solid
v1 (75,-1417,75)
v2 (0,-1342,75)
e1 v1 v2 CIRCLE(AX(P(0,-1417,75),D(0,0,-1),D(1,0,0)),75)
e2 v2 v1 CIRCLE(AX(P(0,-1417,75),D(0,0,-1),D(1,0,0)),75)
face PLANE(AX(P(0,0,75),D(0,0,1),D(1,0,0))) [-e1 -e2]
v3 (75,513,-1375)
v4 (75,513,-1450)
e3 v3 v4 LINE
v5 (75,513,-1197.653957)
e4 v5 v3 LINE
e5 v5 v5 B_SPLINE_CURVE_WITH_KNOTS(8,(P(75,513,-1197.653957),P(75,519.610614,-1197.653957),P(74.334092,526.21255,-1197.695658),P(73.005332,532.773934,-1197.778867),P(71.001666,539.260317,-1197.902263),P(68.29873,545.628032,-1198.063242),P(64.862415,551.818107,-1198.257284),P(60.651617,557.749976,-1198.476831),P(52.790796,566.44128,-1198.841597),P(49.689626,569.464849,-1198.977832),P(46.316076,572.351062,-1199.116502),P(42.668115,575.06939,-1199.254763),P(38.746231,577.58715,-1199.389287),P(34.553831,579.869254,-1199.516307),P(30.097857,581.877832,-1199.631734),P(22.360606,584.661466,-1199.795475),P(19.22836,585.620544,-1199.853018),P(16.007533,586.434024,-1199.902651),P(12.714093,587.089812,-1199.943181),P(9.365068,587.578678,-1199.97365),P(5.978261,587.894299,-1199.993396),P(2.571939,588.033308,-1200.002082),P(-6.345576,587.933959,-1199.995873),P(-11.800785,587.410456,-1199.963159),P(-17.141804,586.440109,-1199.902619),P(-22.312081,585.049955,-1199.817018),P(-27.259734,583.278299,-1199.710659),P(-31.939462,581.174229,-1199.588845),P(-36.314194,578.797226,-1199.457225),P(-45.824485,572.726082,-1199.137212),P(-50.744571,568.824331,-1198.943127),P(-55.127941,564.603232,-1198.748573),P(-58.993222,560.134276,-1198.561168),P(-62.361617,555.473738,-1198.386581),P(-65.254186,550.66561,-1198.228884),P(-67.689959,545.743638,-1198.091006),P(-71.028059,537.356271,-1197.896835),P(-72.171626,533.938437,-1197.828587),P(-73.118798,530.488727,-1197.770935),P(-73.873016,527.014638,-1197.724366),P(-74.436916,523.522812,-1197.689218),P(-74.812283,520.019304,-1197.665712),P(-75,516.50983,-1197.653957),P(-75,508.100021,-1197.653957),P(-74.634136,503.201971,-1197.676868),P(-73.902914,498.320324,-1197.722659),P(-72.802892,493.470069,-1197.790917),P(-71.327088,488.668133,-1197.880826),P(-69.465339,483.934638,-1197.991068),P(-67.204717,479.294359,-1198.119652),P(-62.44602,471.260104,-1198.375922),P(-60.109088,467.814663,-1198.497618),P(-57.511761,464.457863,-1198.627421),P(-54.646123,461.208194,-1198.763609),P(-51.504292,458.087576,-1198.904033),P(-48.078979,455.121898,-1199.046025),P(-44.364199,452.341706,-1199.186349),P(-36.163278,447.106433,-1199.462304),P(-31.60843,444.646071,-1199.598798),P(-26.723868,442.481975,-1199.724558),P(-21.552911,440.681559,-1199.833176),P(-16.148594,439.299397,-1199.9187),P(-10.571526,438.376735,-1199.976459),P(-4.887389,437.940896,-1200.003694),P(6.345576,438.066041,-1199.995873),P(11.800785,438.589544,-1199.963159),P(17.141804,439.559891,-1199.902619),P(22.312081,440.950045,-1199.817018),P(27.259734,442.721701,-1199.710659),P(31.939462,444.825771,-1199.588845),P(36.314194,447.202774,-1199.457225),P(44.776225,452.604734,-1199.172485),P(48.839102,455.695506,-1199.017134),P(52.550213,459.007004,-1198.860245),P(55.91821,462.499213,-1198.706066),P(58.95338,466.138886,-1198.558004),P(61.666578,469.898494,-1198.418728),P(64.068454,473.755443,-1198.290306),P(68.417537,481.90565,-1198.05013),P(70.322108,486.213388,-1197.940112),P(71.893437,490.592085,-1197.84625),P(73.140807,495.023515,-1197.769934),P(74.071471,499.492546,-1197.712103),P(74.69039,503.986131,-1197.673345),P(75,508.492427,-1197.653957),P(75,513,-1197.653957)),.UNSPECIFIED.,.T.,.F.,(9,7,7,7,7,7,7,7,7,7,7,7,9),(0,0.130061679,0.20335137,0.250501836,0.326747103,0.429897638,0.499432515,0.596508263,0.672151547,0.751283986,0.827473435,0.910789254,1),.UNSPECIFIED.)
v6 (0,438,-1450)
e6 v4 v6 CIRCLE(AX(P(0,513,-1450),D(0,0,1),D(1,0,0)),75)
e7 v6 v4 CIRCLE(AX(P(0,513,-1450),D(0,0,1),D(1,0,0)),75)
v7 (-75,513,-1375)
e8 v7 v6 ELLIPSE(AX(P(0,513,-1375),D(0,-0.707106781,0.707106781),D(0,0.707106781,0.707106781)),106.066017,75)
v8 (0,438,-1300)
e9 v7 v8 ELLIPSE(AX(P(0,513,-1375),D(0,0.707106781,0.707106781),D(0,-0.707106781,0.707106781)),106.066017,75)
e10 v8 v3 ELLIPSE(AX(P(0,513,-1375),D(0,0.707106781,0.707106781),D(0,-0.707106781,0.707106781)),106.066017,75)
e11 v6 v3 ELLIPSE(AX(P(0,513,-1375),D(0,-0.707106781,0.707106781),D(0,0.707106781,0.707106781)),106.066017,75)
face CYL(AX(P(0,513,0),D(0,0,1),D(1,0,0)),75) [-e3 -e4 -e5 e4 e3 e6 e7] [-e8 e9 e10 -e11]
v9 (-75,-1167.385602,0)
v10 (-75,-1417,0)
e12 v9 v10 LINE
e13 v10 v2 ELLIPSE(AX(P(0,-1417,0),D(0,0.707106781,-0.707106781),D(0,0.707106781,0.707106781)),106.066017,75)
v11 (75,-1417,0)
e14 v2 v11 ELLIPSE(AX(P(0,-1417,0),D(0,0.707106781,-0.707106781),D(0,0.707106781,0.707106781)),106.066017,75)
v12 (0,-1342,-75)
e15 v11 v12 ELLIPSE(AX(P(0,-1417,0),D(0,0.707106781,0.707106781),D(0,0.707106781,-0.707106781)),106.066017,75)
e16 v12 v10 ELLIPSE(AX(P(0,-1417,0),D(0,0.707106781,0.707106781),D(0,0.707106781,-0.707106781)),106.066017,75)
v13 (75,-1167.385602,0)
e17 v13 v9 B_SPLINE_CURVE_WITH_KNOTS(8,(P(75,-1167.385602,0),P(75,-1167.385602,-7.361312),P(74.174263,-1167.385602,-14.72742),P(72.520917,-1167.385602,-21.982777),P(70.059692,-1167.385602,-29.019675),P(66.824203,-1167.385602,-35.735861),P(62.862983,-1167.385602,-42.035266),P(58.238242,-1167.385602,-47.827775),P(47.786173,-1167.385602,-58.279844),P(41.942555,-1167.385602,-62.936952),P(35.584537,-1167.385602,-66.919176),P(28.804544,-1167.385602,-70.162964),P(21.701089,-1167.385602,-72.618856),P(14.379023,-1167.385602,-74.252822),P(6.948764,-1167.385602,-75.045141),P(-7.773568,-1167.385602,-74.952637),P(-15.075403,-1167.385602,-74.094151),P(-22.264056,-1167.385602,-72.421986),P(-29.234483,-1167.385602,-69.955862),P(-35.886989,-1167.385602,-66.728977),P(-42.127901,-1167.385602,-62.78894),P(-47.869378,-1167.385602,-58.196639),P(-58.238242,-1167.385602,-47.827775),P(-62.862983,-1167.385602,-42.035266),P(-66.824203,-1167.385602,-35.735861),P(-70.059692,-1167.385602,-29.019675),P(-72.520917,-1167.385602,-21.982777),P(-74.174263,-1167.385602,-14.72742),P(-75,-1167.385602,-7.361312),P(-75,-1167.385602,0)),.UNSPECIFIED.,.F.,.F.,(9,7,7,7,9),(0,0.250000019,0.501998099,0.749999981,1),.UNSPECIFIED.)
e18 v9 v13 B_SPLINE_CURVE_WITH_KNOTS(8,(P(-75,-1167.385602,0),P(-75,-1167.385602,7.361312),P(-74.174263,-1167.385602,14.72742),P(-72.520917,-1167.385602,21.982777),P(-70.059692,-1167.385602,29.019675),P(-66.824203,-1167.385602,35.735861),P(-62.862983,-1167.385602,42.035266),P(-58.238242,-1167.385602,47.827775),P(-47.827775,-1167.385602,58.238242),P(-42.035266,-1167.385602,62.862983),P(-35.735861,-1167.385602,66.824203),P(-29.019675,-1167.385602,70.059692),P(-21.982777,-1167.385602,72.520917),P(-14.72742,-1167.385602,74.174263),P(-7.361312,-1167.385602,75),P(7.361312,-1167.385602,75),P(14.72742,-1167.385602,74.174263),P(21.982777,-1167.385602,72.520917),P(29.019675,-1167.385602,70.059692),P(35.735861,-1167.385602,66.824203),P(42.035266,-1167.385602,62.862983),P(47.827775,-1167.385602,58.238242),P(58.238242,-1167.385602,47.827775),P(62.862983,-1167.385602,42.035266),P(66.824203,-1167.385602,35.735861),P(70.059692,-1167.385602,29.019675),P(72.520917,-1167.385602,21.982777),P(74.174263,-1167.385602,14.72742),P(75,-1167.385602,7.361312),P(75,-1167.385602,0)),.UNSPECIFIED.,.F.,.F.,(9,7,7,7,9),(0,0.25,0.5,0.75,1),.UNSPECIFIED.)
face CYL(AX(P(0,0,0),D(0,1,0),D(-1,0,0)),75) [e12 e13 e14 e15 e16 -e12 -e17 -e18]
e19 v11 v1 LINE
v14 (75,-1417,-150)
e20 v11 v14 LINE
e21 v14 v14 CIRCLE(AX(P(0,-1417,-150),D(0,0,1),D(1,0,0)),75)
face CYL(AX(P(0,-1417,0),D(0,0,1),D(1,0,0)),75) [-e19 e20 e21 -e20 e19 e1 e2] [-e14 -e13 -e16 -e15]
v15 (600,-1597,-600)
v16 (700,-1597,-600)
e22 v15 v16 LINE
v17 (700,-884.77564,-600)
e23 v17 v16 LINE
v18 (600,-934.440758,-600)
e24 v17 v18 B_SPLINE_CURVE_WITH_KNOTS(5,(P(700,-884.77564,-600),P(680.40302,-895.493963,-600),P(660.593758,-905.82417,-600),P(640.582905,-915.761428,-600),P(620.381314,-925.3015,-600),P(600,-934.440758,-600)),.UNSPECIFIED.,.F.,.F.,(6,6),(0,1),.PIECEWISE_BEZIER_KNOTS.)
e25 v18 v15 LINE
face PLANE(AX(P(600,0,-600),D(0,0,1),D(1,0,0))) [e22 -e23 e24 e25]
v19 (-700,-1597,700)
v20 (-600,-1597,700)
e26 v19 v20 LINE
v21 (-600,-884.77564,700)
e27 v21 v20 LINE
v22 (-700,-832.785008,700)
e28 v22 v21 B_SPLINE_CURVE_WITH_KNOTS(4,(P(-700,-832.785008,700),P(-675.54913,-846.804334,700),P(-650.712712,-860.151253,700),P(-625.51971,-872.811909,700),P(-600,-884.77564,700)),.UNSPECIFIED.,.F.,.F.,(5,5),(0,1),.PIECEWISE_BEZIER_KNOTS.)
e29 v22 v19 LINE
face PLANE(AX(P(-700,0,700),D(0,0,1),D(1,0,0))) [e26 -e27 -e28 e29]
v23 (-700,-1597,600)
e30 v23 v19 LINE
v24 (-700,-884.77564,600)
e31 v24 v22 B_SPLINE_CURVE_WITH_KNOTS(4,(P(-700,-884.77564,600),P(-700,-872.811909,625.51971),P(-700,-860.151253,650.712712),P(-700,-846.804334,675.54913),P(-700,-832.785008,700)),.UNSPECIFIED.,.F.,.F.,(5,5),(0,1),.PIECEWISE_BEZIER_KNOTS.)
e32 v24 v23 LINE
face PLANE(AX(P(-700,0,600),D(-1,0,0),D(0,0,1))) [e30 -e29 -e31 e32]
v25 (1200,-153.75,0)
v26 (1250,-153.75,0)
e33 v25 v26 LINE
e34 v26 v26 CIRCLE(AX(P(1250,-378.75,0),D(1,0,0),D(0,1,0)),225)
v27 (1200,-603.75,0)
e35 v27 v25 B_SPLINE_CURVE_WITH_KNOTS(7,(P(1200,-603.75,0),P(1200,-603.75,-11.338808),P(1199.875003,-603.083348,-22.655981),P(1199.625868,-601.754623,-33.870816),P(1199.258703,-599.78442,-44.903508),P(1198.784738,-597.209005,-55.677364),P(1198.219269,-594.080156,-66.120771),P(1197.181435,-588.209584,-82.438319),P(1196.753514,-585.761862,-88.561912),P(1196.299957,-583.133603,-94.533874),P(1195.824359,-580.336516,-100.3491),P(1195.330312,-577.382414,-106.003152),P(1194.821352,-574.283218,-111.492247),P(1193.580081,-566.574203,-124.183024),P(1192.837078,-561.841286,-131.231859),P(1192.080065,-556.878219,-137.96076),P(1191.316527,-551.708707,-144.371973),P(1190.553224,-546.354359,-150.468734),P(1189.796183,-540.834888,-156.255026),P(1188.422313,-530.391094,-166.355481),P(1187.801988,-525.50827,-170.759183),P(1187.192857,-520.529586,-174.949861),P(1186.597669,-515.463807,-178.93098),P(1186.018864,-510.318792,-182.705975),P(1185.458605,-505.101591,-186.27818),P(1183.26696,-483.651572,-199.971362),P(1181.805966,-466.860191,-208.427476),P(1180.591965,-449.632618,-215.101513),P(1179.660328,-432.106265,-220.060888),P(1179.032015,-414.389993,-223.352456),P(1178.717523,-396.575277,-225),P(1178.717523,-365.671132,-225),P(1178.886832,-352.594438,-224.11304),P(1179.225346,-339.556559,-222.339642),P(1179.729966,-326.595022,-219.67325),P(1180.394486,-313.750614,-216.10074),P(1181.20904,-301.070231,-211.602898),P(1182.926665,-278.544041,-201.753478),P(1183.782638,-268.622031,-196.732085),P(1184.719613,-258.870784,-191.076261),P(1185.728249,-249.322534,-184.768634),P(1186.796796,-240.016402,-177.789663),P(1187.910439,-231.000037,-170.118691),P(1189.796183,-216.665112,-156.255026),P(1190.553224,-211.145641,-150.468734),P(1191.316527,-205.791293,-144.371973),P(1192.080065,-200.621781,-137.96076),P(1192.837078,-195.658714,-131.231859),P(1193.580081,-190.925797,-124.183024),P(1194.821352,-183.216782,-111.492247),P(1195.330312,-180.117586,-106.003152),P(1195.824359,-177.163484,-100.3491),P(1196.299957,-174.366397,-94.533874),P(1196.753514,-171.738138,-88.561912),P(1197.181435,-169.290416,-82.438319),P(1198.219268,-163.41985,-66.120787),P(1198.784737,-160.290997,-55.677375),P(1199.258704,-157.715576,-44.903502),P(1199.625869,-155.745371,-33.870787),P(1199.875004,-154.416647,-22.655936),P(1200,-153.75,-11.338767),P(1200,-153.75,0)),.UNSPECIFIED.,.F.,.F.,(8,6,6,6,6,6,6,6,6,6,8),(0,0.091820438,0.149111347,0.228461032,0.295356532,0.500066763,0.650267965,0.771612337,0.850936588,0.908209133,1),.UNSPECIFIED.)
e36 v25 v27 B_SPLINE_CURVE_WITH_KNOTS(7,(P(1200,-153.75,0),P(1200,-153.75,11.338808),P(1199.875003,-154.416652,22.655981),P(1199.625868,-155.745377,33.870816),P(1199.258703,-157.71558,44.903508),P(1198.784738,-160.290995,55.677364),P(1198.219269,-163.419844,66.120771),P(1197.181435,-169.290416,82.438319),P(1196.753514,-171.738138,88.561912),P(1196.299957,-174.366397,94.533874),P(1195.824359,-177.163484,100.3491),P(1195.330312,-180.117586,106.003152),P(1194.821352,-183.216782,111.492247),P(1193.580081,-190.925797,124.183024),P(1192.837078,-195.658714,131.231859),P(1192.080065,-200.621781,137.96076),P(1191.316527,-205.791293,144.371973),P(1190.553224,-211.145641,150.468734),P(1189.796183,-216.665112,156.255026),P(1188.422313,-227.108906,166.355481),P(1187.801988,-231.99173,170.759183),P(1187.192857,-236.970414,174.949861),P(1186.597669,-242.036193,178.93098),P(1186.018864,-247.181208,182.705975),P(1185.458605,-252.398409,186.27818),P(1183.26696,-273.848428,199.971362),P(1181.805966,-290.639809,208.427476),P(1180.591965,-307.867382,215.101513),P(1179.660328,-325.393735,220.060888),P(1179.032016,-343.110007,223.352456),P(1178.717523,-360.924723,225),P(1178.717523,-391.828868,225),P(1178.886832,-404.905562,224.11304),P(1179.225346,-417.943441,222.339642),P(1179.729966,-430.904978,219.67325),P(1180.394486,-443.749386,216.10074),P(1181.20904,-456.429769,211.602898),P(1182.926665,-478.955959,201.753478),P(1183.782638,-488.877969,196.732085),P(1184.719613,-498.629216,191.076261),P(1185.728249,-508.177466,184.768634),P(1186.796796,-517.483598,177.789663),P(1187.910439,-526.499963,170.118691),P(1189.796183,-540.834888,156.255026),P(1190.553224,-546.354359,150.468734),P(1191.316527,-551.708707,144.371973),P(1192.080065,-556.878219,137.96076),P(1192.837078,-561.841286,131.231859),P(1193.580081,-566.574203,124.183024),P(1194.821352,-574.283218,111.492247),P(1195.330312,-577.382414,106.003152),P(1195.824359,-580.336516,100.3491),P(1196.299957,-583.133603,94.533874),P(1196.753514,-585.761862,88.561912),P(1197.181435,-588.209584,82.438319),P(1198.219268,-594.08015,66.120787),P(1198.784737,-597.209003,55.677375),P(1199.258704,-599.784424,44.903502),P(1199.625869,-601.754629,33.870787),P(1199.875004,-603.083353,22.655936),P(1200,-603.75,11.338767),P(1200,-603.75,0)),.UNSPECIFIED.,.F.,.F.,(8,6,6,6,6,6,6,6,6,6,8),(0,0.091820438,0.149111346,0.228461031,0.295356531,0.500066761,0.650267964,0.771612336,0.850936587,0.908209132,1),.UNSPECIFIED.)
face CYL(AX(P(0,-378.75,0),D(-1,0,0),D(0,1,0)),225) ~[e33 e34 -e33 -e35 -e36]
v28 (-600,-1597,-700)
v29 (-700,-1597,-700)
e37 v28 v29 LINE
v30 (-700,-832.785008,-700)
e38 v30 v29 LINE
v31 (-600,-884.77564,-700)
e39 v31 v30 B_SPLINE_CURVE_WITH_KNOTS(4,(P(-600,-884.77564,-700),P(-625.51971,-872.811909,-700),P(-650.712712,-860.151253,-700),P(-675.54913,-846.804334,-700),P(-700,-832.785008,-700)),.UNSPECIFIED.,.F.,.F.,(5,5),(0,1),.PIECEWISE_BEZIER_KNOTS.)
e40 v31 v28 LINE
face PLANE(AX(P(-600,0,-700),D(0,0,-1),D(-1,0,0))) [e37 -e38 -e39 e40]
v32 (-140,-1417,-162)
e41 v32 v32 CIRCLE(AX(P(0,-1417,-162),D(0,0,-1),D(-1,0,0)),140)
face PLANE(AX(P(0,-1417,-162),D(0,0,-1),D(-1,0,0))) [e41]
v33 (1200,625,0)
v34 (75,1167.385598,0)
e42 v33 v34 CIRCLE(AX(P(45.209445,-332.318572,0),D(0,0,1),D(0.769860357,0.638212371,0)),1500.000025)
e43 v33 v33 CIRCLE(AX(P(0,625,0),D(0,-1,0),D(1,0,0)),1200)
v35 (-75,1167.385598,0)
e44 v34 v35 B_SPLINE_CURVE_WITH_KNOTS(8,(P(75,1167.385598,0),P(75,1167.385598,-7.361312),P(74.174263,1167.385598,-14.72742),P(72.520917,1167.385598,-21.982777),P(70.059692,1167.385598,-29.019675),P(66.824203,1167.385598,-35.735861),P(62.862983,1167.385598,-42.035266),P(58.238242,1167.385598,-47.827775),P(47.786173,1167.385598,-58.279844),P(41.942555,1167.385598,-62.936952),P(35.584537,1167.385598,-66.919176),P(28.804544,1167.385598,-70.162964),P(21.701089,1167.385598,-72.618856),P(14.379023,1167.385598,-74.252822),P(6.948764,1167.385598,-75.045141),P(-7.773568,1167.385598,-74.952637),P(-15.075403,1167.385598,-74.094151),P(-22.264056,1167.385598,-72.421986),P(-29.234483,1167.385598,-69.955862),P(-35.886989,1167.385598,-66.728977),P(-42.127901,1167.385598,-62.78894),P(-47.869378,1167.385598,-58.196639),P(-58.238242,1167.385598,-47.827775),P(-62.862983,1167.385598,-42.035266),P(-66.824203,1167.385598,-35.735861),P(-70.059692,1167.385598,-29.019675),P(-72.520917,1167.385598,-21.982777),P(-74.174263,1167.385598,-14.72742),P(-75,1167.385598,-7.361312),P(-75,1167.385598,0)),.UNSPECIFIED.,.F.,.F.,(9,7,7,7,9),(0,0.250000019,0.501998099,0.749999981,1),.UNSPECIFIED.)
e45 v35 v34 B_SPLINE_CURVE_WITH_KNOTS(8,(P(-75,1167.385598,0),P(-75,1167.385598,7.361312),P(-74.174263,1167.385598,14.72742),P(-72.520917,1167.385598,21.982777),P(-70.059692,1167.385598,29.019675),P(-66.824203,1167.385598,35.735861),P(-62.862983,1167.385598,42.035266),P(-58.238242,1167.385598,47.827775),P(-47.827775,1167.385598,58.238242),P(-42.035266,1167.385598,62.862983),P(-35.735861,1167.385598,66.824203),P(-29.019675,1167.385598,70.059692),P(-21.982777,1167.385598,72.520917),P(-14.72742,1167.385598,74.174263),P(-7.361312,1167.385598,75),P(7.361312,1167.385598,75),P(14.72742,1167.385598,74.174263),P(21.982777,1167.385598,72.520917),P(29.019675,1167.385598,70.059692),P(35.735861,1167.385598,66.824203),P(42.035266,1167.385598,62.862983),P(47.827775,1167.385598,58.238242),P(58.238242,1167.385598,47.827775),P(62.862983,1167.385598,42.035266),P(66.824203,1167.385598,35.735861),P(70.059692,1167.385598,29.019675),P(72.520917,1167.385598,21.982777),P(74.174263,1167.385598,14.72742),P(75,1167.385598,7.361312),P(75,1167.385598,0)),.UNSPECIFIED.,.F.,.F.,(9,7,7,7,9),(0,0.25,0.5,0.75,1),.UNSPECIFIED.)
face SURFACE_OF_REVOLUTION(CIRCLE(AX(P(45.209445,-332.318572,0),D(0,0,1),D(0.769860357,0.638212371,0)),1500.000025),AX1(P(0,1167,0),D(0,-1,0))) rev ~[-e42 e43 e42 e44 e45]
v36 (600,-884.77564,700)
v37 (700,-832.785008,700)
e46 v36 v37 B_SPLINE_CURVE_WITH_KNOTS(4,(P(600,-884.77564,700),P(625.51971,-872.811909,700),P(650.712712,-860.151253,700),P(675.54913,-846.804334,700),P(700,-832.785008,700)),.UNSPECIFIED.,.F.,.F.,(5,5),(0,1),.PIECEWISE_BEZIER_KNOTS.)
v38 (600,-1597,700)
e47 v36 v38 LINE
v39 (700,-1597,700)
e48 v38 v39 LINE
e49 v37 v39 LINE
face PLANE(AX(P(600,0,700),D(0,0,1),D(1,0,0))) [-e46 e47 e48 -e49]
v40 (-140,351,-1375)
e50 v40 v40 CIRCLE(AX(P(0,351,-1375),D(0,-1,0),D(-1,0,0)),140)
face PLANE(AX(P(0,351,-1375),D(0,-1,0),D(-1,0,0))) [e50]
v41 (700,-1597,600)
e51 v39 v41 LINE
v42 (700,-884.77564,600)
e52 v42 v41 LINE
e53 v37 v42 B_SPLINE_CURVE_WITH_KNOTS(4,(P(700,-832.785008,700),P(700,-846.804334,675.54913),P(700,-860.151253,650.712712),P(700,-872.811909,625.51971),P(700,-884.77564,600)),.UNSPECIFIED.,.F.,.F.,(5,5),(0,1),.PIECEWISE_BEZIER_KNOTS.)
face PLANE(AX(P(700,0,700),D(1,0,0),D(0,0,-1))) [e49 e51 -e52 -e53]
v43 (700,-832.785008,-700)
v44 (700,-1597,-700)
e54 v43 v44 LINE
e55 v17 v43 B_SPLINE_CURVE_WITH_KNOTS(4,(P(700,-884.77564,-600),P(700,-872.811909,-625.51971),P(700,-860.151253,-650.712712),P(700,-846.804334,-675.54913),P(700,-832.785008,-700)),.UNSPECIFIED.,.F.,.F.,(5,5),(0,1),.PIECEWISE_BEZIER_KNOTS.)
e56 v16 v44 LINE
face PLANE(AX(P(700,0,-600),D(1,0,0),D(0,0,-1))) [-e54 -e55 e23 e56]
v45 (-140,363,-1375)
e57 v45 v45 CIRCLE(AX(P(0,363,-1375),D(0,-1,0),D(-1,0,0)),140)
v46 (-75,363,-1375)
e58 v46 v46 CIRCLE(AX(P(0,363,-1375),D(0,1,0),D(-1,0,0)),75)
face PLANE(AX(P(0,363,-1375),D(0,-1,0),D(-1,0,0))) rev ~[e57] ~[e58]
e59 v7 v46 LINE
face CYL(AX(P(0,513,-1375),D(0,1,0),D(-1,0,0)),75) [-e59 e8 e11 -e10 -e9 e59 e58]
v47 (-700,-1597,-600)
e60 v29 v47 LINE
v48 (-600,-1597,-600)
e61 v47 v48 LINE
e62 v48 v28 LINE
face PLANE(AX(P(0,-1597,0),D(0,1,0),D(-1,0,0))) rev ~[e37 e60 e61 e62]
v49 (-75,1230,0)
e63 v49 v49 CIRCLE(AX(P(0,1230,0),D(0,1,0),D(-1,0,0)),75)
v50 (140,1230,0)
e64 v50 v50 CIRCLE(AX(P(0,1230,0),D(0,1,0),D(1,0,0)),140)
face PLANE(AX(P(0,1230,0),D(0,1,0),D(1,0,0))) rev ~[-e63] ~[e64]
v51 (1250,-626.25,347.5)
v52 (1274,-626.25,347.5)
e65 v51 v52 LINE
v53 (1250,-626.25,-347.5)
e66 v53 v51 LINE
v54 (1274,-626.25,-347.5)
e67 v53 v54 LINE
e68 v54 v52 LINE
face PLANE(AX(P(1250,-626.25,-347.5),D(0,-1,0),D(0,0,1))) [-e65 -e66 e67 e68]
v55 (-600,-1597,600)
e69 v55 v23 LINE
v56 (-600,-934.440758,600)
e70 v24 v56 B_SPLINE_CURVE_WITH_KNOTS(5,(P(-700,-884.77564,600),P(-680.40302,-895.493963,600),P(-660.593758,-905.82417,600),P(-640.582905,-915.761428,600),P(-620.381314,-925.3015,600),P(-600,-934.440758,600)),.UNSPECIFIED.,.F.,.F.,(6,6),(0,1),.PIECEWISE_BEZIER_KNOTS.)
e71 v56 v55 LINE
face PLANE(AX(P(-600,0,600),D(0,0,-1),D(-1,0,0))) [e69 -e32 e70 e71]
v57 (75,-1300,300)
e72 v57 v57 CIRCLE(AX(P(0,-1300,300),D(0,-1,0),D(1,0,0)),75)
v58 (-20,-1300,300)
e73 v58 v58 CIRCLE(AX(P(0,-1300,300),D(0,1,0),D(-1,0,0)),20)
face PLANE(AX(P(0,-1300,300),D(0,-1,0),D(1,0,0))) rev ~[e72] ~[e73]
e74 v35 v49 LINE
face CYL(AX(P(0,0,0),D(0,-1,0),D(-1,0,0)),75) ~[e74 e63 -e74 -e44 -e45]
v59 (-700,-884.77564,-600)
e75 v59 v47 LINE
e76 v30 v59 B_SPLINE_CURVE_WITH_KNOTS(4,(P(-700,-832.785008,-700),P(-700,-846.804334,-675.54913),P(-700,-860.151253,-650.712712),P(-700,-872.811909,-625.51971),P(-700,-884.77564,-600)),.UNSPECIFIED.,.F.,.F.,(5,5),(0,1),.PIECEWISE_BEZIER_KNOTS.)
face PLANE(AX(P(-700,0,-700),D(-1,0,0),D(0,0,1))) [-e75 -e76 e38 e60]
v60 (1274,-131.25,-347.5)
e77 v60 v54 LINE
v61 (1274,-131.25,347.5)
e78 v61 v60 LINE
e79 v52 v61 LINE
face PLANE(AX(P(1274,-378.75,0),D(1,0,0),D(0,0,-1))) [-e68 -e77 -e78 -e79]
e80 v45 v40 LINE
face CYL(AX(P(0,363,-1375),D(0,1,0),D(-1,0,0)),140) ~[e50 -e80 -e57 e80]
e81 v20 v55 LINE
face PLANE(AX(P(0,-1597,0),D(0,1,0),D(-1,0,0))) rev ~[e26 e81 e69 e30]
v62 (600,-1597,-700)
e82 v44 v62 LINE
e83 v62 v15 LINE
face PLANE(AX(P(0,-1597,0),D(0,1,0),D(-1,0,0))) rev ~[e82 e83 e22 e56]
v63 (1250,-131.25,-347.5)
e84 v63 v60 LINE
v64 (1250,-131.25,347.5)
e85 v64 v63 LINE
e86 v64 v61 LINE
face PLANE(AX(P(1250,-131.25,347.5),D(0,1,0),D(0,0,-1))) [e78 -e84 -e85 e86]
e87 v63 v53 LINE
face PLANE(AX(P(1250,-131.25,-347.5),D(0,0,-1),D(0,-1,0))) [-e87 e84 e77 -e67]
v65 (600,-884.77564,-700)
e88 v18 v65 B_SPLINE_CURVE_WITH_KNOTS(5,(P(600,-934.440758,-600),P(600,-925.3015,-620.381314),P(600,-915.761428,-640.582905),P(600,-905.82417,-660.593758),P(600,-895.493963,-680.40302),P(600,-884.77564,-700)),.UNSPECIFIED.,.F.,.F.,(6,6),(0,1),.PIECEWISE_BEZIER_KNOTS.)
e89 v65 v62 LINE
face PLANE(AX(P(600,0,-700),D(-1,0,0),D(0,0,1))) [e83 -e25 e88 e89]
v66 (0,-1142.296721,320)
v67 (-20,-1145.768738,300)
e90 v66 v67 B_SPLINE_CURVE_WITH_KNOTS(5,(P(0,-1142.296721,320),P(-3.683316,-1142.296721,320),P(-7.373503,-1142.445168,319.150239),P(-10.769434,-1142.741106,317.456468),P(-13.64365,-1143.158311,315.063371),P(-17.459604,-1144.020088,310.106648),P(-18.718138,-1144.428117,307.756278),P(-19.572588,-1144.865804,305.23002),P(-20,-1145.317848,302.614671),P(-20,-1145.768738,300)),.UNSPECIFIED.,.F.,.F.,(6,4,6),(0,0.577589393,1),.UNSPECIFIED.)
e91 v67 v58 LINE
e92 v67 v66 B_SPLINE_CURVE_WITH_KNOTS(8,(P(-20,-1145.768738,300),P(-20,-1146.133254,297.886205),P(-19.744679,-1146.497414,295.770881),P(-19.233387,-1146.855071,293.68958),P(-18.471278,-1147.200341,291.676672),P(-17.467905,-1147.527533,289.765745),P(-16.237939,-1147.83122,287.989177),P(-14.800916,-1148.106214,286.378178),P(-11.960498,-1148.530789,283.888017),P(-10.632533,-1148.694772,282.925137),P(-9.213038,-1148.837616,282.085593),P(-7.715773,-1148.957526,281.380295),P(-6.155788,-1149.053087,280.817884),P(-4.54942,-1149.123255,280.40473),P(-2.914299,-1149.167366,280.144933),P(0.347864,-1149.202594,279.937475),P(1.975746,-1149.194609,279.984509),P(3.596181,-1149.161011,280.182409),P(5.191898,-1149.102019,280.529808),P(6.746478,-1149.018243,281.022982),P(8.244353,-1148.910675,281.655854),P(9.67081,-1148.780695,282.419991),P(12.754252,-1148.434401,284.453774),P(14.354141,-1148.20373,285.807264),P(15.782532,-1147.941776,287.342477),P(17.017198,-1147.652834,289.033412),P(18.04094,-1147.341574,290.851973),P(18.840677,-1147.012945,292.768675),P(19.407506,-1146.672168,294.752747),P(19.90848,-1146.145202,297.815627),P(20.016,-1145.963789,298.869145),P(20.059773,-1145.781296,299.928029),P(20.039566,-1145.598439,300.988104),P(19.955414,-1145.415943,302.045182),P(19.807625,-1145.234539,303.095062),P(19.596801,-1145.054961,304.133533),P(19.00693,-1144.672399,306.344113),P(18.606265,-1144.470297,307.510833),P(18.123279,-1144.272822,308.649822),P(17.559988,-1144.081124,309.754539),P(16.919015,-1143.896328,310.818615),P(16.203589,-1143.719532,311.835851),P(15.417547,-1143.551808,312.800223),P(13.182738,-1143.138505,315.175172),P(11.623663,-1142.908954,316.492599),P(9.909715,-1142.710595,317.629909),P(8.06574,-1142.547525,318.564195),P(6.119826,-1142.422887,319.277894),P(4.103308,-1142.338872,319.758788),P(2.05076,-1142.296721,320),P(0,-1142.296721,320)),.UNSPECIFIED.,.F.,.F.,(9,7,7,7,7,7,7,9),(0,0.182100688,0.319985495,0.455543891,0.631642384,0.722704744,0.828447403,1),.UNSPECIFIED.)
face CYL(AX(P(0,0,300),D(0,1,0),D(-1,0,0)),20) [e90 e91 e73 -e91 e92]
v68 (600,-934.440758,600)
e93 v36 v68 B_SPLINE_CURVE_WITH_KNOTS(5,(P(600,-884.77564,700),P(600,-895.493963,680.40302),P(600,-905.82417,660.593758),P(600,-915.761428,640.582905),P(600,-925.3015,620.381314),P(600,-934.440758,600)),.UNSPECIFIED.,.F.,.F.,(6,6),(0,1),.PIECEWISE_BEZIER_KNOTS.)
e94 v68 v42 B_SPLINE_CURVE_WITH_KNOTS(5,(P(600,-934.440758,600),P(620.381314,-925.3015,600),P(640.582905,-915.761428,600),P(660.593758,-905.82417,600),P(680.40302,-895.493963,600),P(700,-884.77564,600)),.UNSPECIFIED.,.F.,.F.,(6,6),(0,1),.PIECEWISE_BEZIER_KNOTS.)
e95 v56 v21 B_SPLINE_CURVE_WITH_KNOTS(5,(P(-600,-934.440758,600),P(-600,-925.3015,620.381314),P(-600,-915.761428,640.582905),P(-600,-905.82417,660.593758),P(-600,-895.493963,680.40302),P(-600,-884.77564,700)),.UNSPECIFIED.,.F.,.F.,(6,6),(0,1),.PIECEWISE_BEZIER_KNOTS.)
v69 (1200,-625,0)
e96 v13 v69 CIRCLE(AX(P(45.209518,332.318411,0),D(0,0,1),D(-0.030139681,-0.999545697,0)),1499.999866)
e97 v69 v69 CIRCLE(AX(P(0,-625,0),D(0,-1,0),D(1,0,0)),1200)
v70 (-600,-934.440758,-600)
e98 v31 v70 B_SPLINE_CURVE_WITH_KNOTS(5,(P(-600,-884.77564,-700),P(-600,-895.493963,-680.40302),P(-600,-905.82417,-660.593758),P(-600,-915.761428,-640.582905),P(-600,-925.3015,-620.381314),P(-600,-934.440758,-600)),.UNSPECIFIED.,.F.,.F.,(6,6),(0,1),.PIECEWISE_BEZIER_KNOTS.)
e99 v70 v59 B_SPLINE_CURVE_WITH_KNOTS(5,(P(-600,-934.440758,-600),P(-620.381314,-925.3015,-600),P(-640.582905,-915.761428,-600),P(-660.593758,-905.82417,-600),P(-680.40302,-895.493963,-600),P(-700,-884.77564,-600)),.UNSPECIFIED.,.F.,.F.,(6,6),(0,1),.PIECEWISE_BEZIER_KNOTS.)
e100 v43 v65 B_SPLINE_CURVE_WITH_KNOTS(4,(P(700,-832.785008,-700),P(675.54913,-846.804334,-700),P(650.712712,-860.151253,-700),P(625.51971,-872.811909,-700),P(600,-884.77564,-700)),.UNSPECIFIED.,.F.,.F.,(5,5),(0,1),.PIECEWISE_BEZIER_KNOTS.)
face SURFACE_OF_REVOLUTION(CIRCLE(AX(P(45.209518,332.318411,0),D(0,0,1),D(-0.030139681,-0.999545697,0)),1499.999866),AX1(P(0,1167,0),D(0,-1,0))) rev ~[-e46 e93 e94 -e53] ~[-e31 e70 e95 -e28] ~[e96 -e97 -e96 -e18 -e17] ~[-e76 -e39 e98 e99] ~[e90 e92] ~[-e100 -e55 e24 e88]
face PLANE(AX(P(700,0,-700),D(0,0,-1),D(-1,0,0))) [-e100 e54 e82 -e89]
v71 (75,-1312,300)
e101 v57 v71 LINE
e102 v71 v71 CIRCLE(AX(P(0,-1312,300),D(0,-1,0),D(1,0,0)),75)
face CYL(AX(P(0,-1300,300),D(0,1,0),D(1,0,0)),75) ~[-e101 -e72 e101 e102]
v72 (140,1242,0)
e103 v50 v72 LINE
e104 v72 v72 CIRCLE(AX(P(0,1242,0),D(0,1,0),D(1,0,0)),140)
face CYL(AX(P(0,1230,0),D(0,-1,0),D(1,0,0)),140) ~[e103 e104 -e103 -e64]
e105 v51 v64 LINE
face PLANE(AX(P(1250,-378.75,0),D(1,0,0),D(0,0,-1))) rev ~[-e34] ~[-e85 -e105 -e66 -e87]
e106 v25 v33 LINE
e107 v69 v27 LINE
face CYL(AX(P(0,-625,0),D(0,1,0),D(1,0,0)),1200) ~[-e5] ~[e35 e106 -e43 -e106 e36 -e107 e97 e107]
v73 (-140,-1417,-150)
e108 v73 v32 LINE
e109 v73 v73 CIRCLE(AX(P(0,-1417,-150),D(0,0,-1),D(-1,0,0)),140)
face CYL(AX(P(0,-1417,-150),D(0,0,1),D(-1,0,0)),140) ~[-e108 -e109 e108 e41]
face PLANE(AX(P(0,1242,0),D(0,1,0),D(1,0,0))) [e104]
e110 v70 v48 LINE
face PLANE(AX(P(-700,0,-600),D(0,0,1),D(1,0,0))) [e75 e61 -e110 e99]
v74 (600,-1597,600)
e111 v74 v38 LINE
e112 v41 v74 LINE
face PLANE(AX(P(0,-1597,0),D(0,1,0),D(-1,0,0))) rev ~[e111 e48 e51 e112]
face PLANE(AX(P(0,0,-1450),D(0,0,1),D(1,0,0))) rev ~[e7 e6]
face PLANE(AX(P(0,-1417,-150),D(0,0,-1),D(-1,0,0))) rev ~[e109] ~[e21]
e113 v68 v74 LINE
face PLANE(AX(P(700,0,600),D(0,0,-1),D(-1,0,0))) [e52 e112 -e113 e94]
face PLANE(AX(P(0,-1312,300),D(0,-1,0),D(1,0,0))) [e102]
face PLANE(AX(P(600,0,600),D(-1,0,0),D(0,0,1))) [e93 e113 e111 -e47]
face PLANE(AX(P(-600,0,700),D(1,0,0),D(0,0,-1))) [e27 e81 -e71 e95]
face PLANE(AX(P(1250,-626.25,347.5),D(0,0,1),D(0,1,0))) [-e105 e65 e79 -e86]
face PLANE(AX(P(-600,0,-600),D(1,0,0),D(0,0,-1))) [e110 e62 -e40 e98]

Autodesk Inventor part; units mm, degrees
ref_plane "YZ Plane" through (0, 0, 0) normal (1, 0, 0) x (0, 1, 0)
ref_plane "XY Plane" through (0, 0, 0) normal (0, 0, 1) x (1, 0, 0)
sketch "Sketch1" plane through (0, 0, 0) normal (0, 0, 1) x (1, 0, 0)
  line L0 (1200, -625) -> (1200, 625)
  line L1 (0, 1167) -> (0, -1167)
  arc A0 (0, -1167) -> (1200, -625) centre (45.2095, 332.3185) ccw
  arc A1 (1200, 625) -> (0, 1167) centre (45.2095, -332.3185) ccw
  point P0 (0, 0)
  point P1 (0, 0)
  dimension "d0" = 1250
  dimension "d1" = 542
  dimension "d2" = 542
  dimension "d3" = 2400
  dimension "d9" = 1500
  dimension "d10" = 1500
revolve "Revolution1" add sketch "Sketch1" angle 360 about axis through (0, 1167, 0) along (0, -1, 0)
sketch "Sketch2" plane through (0, 0, 0) normal (0, 1, 0) x (-1, 0, 0)
  line L0 (650, 650) -> (-650, 650) construction
  line L1 (-650, 650) -> (-650, -650) construction
  line L2 (-650, -650) -> (650, -650) construction
  line L3 (650, -650) -> (650, 650) construction
  line L4 (650, 650) -> (-650, -650) construction
  line L5 (700, 700) -> (600, 700)
  line L6 (600, 700) -> (600, 600)
  line L7 (600, 600) -> (700, 600)
  line L8 (700, 600) -> (700, 700)
  line L9 (700, 700) -> (600, 600)
  line L10 (700, -600) -> (600, -600)
  line L11 (600, -600) -> (600, -700)
  line L12 (600, -700) -> (700, -700)
  line L13 (700, -600) -> (600, -700)
  line L14 (700, -700) -> (700, -600)
  line L15 (-600, 700) -> (-700, 700)
  line L16 (-700, 700) -> (-700, 600)
  line L17 (-700, 600) -> (-600, 600)
  line L18 (-600, 700) -> (-700, 600)
  line L19 (-600, 600) -> (-600, 700)
  line L20 (-600, -600) -> (-700, -600)
  line L21 (-700, -600) -> (-700, -700)
  line L22 (-700, -700) -> (-600, -700)
  line L23 (-600, -600) -> (-700, -700)
  line L24 (-600, -700) -> (-600, -600)
  point P0 (0, 0)
  point P1 (0, 0)
  point P2 (650, -650)
  point P3 (0, -1300)
  point P4 (-650, 650)
  point P5 (-1300, 0)
  point P6 (-650, -650)
  point P7 (-1300, -1300)
  dimension "d12" = 1300
  dimension "d13" = 1300
  dimension "d16" = 100
  dimension "d17" = 100
  dimension "d24" = 1300
  dimension "d27" = 1300
extrude "Extrusion1" add sketch "Sketch2" against normal blind 1597
sketch "Sketch3" plane through (0, 0, 0) normal (0, 1, 0) x (-1, 0, 0)
  circle A0 centre (0, 0) radius 75
  dimension "d32" = 150
extrude "Extrusion2" add sketch "Sketch3" along normal blind 1230
sketch "Sketch4" plane through (0, 1230, 0) normal (0, 1, 0) x (1, 0, 0)
  circle A0 centre (0, 0) radius 140
  dimension "d35" = 280
extrude "Extrusion3" add sketch "Sketch4" along normal blind 12
sketch "Sketch5" plane through (0, 0, 0) normal (1, 0, 0) x (0, 1, 0)
  circle A0 centre (-378.75, 0) radius 225
  point P0 (0, 0)
  dimension "d38" = 378.75
  dimension "d39" = 450
extrude "Extrusion4" add sketch "Sketch5" along normal blind 1250
sketch "Sketch6" plane through (1250, -378.75, 0) normal (1, 0, 0) x (0, 0, -1)
  circle A0 centre (0, 0) radius 225 projected
  line L0 (-347.5, 247.5) -> (347.5, 247.5)
  line L1 (347.5, 247.5) -> (347.5, -247.5)
  line L2 (347.5, -247.5) -> (-347.5, -247.5)
  line L3 (-347.5, -247.5) -> (-347.5, 247.5)
  line L4 (-347.5, 247.5) -> (347.5, -247.5) construction
  point P0 (0, 378.75)
  dimension "d42" = 695
  dimension "d43" = 495
extrude "Extrusion5" add sketch "Sketch6" along normal blind 24 contours A0 | L0 L1 L2 L3
sketch "Sketch7" plane through (0, 0, 0) normal (0, 1, 0) x (-1, 0, 0)
  circle A0 centre (0, 0) radius 75
  dimension "d46" = 150
extrude "Extrusion6" add sketch "Sketch7" against normal blind 1417
sketch "Sketch8" plane through (0, 0, 0) normal (0, 0, 1) x (1, 0, 0)
  line L0 (-75, -1417) -> (75, -1417) projected
  circle A0 centre (0, -1417) radius 75
  point P0 (0, 0)
extrude "Extrusion7" add sketch "Sketch8" along normal blind 75 and the other way blind 150
sketch "Sketch9" plane through (0, -1417, -150) normal (0, 0, -1) x (-1, 0, 0)
  circle A0 centre (0, 0) radius 75 projected
  circle A1 centre (0, 0) radius 140
  point P0 (0, 1417)
  dimension "d53" = 280
extrude "Extrusion8" add sketch "Sketch9" along normal blind 12 contours A0 | A1
sketch "Sketch10" plane through (0, 0, 0) normal (0, 1, 0) x (-1, 0, 0)
  circle A0 centre (0, 300) radius 20
  point P0 (0, 0)
  dimension "d56" = 40
  dimension "d57" = 300
extrude "Extrusion9" add sketch "Sketch10" against normal blind 1300
sketch "Sketch11" plane through (0, -1300, 300) normal (0, -1, 0) x (1, 0, 0)
  circle A0 centre (0, 0) radius 20 projected
  circle A1 centre (0, 0) radius 75
  point P0 (0, -300)
  dimension "d60" = 150
extrude "Extrusion10" add sketch "Sketch11" along normal blind 12 contours A0 | A1
sketch "Sketch12" plane through (0, 0, 0) normal (0, 0, 1) x (1, 0, 0)
  circle A0 centre (0, 513) radius 75
  point P0 (0, 0)
  dimension "d63" = 150
  dimension "d64" = 513
extrude "Extrusion11" add sketch "Sketch12" against normal blind 1450
ref_plane "Work Plane1" through (0, 513, 0) normal (0, 1, 0) x (-1, 0, 0)
sketch "Sketch13" plane through (0, 513, 0) normal (0, 1, 0) x (-1, 0, 0)
  circle A0 centre (0, -1375) radius 75
  line L0 (-75, -1450) -> (75, -1450) projected
  point P0 (0, 0)
  point P1 (0, -1450)
  dimension "d68" = 150
  dimension "d81" = 75
extrude "Extrusion12" add sketch "Sketch13" against normal blind 150
sketch "Sketch15" plane through (0, 363, -1375) normal (0, -1, 0) x (-1, 0, 0)
  circle A0 centre (0, 0) radius 75 projected
  circle A1 centre (0, 0) radius 140
  point P0 (0, -1375)
  dimension "d75" = 280
extrude "Extrusion14" add sketch "Sketch15" along normal blind 12 contours A0 | A1
equation "\"d2\" = d1"
equation "\"d13\" = d12"
properties part number "Фильтр контактный"
